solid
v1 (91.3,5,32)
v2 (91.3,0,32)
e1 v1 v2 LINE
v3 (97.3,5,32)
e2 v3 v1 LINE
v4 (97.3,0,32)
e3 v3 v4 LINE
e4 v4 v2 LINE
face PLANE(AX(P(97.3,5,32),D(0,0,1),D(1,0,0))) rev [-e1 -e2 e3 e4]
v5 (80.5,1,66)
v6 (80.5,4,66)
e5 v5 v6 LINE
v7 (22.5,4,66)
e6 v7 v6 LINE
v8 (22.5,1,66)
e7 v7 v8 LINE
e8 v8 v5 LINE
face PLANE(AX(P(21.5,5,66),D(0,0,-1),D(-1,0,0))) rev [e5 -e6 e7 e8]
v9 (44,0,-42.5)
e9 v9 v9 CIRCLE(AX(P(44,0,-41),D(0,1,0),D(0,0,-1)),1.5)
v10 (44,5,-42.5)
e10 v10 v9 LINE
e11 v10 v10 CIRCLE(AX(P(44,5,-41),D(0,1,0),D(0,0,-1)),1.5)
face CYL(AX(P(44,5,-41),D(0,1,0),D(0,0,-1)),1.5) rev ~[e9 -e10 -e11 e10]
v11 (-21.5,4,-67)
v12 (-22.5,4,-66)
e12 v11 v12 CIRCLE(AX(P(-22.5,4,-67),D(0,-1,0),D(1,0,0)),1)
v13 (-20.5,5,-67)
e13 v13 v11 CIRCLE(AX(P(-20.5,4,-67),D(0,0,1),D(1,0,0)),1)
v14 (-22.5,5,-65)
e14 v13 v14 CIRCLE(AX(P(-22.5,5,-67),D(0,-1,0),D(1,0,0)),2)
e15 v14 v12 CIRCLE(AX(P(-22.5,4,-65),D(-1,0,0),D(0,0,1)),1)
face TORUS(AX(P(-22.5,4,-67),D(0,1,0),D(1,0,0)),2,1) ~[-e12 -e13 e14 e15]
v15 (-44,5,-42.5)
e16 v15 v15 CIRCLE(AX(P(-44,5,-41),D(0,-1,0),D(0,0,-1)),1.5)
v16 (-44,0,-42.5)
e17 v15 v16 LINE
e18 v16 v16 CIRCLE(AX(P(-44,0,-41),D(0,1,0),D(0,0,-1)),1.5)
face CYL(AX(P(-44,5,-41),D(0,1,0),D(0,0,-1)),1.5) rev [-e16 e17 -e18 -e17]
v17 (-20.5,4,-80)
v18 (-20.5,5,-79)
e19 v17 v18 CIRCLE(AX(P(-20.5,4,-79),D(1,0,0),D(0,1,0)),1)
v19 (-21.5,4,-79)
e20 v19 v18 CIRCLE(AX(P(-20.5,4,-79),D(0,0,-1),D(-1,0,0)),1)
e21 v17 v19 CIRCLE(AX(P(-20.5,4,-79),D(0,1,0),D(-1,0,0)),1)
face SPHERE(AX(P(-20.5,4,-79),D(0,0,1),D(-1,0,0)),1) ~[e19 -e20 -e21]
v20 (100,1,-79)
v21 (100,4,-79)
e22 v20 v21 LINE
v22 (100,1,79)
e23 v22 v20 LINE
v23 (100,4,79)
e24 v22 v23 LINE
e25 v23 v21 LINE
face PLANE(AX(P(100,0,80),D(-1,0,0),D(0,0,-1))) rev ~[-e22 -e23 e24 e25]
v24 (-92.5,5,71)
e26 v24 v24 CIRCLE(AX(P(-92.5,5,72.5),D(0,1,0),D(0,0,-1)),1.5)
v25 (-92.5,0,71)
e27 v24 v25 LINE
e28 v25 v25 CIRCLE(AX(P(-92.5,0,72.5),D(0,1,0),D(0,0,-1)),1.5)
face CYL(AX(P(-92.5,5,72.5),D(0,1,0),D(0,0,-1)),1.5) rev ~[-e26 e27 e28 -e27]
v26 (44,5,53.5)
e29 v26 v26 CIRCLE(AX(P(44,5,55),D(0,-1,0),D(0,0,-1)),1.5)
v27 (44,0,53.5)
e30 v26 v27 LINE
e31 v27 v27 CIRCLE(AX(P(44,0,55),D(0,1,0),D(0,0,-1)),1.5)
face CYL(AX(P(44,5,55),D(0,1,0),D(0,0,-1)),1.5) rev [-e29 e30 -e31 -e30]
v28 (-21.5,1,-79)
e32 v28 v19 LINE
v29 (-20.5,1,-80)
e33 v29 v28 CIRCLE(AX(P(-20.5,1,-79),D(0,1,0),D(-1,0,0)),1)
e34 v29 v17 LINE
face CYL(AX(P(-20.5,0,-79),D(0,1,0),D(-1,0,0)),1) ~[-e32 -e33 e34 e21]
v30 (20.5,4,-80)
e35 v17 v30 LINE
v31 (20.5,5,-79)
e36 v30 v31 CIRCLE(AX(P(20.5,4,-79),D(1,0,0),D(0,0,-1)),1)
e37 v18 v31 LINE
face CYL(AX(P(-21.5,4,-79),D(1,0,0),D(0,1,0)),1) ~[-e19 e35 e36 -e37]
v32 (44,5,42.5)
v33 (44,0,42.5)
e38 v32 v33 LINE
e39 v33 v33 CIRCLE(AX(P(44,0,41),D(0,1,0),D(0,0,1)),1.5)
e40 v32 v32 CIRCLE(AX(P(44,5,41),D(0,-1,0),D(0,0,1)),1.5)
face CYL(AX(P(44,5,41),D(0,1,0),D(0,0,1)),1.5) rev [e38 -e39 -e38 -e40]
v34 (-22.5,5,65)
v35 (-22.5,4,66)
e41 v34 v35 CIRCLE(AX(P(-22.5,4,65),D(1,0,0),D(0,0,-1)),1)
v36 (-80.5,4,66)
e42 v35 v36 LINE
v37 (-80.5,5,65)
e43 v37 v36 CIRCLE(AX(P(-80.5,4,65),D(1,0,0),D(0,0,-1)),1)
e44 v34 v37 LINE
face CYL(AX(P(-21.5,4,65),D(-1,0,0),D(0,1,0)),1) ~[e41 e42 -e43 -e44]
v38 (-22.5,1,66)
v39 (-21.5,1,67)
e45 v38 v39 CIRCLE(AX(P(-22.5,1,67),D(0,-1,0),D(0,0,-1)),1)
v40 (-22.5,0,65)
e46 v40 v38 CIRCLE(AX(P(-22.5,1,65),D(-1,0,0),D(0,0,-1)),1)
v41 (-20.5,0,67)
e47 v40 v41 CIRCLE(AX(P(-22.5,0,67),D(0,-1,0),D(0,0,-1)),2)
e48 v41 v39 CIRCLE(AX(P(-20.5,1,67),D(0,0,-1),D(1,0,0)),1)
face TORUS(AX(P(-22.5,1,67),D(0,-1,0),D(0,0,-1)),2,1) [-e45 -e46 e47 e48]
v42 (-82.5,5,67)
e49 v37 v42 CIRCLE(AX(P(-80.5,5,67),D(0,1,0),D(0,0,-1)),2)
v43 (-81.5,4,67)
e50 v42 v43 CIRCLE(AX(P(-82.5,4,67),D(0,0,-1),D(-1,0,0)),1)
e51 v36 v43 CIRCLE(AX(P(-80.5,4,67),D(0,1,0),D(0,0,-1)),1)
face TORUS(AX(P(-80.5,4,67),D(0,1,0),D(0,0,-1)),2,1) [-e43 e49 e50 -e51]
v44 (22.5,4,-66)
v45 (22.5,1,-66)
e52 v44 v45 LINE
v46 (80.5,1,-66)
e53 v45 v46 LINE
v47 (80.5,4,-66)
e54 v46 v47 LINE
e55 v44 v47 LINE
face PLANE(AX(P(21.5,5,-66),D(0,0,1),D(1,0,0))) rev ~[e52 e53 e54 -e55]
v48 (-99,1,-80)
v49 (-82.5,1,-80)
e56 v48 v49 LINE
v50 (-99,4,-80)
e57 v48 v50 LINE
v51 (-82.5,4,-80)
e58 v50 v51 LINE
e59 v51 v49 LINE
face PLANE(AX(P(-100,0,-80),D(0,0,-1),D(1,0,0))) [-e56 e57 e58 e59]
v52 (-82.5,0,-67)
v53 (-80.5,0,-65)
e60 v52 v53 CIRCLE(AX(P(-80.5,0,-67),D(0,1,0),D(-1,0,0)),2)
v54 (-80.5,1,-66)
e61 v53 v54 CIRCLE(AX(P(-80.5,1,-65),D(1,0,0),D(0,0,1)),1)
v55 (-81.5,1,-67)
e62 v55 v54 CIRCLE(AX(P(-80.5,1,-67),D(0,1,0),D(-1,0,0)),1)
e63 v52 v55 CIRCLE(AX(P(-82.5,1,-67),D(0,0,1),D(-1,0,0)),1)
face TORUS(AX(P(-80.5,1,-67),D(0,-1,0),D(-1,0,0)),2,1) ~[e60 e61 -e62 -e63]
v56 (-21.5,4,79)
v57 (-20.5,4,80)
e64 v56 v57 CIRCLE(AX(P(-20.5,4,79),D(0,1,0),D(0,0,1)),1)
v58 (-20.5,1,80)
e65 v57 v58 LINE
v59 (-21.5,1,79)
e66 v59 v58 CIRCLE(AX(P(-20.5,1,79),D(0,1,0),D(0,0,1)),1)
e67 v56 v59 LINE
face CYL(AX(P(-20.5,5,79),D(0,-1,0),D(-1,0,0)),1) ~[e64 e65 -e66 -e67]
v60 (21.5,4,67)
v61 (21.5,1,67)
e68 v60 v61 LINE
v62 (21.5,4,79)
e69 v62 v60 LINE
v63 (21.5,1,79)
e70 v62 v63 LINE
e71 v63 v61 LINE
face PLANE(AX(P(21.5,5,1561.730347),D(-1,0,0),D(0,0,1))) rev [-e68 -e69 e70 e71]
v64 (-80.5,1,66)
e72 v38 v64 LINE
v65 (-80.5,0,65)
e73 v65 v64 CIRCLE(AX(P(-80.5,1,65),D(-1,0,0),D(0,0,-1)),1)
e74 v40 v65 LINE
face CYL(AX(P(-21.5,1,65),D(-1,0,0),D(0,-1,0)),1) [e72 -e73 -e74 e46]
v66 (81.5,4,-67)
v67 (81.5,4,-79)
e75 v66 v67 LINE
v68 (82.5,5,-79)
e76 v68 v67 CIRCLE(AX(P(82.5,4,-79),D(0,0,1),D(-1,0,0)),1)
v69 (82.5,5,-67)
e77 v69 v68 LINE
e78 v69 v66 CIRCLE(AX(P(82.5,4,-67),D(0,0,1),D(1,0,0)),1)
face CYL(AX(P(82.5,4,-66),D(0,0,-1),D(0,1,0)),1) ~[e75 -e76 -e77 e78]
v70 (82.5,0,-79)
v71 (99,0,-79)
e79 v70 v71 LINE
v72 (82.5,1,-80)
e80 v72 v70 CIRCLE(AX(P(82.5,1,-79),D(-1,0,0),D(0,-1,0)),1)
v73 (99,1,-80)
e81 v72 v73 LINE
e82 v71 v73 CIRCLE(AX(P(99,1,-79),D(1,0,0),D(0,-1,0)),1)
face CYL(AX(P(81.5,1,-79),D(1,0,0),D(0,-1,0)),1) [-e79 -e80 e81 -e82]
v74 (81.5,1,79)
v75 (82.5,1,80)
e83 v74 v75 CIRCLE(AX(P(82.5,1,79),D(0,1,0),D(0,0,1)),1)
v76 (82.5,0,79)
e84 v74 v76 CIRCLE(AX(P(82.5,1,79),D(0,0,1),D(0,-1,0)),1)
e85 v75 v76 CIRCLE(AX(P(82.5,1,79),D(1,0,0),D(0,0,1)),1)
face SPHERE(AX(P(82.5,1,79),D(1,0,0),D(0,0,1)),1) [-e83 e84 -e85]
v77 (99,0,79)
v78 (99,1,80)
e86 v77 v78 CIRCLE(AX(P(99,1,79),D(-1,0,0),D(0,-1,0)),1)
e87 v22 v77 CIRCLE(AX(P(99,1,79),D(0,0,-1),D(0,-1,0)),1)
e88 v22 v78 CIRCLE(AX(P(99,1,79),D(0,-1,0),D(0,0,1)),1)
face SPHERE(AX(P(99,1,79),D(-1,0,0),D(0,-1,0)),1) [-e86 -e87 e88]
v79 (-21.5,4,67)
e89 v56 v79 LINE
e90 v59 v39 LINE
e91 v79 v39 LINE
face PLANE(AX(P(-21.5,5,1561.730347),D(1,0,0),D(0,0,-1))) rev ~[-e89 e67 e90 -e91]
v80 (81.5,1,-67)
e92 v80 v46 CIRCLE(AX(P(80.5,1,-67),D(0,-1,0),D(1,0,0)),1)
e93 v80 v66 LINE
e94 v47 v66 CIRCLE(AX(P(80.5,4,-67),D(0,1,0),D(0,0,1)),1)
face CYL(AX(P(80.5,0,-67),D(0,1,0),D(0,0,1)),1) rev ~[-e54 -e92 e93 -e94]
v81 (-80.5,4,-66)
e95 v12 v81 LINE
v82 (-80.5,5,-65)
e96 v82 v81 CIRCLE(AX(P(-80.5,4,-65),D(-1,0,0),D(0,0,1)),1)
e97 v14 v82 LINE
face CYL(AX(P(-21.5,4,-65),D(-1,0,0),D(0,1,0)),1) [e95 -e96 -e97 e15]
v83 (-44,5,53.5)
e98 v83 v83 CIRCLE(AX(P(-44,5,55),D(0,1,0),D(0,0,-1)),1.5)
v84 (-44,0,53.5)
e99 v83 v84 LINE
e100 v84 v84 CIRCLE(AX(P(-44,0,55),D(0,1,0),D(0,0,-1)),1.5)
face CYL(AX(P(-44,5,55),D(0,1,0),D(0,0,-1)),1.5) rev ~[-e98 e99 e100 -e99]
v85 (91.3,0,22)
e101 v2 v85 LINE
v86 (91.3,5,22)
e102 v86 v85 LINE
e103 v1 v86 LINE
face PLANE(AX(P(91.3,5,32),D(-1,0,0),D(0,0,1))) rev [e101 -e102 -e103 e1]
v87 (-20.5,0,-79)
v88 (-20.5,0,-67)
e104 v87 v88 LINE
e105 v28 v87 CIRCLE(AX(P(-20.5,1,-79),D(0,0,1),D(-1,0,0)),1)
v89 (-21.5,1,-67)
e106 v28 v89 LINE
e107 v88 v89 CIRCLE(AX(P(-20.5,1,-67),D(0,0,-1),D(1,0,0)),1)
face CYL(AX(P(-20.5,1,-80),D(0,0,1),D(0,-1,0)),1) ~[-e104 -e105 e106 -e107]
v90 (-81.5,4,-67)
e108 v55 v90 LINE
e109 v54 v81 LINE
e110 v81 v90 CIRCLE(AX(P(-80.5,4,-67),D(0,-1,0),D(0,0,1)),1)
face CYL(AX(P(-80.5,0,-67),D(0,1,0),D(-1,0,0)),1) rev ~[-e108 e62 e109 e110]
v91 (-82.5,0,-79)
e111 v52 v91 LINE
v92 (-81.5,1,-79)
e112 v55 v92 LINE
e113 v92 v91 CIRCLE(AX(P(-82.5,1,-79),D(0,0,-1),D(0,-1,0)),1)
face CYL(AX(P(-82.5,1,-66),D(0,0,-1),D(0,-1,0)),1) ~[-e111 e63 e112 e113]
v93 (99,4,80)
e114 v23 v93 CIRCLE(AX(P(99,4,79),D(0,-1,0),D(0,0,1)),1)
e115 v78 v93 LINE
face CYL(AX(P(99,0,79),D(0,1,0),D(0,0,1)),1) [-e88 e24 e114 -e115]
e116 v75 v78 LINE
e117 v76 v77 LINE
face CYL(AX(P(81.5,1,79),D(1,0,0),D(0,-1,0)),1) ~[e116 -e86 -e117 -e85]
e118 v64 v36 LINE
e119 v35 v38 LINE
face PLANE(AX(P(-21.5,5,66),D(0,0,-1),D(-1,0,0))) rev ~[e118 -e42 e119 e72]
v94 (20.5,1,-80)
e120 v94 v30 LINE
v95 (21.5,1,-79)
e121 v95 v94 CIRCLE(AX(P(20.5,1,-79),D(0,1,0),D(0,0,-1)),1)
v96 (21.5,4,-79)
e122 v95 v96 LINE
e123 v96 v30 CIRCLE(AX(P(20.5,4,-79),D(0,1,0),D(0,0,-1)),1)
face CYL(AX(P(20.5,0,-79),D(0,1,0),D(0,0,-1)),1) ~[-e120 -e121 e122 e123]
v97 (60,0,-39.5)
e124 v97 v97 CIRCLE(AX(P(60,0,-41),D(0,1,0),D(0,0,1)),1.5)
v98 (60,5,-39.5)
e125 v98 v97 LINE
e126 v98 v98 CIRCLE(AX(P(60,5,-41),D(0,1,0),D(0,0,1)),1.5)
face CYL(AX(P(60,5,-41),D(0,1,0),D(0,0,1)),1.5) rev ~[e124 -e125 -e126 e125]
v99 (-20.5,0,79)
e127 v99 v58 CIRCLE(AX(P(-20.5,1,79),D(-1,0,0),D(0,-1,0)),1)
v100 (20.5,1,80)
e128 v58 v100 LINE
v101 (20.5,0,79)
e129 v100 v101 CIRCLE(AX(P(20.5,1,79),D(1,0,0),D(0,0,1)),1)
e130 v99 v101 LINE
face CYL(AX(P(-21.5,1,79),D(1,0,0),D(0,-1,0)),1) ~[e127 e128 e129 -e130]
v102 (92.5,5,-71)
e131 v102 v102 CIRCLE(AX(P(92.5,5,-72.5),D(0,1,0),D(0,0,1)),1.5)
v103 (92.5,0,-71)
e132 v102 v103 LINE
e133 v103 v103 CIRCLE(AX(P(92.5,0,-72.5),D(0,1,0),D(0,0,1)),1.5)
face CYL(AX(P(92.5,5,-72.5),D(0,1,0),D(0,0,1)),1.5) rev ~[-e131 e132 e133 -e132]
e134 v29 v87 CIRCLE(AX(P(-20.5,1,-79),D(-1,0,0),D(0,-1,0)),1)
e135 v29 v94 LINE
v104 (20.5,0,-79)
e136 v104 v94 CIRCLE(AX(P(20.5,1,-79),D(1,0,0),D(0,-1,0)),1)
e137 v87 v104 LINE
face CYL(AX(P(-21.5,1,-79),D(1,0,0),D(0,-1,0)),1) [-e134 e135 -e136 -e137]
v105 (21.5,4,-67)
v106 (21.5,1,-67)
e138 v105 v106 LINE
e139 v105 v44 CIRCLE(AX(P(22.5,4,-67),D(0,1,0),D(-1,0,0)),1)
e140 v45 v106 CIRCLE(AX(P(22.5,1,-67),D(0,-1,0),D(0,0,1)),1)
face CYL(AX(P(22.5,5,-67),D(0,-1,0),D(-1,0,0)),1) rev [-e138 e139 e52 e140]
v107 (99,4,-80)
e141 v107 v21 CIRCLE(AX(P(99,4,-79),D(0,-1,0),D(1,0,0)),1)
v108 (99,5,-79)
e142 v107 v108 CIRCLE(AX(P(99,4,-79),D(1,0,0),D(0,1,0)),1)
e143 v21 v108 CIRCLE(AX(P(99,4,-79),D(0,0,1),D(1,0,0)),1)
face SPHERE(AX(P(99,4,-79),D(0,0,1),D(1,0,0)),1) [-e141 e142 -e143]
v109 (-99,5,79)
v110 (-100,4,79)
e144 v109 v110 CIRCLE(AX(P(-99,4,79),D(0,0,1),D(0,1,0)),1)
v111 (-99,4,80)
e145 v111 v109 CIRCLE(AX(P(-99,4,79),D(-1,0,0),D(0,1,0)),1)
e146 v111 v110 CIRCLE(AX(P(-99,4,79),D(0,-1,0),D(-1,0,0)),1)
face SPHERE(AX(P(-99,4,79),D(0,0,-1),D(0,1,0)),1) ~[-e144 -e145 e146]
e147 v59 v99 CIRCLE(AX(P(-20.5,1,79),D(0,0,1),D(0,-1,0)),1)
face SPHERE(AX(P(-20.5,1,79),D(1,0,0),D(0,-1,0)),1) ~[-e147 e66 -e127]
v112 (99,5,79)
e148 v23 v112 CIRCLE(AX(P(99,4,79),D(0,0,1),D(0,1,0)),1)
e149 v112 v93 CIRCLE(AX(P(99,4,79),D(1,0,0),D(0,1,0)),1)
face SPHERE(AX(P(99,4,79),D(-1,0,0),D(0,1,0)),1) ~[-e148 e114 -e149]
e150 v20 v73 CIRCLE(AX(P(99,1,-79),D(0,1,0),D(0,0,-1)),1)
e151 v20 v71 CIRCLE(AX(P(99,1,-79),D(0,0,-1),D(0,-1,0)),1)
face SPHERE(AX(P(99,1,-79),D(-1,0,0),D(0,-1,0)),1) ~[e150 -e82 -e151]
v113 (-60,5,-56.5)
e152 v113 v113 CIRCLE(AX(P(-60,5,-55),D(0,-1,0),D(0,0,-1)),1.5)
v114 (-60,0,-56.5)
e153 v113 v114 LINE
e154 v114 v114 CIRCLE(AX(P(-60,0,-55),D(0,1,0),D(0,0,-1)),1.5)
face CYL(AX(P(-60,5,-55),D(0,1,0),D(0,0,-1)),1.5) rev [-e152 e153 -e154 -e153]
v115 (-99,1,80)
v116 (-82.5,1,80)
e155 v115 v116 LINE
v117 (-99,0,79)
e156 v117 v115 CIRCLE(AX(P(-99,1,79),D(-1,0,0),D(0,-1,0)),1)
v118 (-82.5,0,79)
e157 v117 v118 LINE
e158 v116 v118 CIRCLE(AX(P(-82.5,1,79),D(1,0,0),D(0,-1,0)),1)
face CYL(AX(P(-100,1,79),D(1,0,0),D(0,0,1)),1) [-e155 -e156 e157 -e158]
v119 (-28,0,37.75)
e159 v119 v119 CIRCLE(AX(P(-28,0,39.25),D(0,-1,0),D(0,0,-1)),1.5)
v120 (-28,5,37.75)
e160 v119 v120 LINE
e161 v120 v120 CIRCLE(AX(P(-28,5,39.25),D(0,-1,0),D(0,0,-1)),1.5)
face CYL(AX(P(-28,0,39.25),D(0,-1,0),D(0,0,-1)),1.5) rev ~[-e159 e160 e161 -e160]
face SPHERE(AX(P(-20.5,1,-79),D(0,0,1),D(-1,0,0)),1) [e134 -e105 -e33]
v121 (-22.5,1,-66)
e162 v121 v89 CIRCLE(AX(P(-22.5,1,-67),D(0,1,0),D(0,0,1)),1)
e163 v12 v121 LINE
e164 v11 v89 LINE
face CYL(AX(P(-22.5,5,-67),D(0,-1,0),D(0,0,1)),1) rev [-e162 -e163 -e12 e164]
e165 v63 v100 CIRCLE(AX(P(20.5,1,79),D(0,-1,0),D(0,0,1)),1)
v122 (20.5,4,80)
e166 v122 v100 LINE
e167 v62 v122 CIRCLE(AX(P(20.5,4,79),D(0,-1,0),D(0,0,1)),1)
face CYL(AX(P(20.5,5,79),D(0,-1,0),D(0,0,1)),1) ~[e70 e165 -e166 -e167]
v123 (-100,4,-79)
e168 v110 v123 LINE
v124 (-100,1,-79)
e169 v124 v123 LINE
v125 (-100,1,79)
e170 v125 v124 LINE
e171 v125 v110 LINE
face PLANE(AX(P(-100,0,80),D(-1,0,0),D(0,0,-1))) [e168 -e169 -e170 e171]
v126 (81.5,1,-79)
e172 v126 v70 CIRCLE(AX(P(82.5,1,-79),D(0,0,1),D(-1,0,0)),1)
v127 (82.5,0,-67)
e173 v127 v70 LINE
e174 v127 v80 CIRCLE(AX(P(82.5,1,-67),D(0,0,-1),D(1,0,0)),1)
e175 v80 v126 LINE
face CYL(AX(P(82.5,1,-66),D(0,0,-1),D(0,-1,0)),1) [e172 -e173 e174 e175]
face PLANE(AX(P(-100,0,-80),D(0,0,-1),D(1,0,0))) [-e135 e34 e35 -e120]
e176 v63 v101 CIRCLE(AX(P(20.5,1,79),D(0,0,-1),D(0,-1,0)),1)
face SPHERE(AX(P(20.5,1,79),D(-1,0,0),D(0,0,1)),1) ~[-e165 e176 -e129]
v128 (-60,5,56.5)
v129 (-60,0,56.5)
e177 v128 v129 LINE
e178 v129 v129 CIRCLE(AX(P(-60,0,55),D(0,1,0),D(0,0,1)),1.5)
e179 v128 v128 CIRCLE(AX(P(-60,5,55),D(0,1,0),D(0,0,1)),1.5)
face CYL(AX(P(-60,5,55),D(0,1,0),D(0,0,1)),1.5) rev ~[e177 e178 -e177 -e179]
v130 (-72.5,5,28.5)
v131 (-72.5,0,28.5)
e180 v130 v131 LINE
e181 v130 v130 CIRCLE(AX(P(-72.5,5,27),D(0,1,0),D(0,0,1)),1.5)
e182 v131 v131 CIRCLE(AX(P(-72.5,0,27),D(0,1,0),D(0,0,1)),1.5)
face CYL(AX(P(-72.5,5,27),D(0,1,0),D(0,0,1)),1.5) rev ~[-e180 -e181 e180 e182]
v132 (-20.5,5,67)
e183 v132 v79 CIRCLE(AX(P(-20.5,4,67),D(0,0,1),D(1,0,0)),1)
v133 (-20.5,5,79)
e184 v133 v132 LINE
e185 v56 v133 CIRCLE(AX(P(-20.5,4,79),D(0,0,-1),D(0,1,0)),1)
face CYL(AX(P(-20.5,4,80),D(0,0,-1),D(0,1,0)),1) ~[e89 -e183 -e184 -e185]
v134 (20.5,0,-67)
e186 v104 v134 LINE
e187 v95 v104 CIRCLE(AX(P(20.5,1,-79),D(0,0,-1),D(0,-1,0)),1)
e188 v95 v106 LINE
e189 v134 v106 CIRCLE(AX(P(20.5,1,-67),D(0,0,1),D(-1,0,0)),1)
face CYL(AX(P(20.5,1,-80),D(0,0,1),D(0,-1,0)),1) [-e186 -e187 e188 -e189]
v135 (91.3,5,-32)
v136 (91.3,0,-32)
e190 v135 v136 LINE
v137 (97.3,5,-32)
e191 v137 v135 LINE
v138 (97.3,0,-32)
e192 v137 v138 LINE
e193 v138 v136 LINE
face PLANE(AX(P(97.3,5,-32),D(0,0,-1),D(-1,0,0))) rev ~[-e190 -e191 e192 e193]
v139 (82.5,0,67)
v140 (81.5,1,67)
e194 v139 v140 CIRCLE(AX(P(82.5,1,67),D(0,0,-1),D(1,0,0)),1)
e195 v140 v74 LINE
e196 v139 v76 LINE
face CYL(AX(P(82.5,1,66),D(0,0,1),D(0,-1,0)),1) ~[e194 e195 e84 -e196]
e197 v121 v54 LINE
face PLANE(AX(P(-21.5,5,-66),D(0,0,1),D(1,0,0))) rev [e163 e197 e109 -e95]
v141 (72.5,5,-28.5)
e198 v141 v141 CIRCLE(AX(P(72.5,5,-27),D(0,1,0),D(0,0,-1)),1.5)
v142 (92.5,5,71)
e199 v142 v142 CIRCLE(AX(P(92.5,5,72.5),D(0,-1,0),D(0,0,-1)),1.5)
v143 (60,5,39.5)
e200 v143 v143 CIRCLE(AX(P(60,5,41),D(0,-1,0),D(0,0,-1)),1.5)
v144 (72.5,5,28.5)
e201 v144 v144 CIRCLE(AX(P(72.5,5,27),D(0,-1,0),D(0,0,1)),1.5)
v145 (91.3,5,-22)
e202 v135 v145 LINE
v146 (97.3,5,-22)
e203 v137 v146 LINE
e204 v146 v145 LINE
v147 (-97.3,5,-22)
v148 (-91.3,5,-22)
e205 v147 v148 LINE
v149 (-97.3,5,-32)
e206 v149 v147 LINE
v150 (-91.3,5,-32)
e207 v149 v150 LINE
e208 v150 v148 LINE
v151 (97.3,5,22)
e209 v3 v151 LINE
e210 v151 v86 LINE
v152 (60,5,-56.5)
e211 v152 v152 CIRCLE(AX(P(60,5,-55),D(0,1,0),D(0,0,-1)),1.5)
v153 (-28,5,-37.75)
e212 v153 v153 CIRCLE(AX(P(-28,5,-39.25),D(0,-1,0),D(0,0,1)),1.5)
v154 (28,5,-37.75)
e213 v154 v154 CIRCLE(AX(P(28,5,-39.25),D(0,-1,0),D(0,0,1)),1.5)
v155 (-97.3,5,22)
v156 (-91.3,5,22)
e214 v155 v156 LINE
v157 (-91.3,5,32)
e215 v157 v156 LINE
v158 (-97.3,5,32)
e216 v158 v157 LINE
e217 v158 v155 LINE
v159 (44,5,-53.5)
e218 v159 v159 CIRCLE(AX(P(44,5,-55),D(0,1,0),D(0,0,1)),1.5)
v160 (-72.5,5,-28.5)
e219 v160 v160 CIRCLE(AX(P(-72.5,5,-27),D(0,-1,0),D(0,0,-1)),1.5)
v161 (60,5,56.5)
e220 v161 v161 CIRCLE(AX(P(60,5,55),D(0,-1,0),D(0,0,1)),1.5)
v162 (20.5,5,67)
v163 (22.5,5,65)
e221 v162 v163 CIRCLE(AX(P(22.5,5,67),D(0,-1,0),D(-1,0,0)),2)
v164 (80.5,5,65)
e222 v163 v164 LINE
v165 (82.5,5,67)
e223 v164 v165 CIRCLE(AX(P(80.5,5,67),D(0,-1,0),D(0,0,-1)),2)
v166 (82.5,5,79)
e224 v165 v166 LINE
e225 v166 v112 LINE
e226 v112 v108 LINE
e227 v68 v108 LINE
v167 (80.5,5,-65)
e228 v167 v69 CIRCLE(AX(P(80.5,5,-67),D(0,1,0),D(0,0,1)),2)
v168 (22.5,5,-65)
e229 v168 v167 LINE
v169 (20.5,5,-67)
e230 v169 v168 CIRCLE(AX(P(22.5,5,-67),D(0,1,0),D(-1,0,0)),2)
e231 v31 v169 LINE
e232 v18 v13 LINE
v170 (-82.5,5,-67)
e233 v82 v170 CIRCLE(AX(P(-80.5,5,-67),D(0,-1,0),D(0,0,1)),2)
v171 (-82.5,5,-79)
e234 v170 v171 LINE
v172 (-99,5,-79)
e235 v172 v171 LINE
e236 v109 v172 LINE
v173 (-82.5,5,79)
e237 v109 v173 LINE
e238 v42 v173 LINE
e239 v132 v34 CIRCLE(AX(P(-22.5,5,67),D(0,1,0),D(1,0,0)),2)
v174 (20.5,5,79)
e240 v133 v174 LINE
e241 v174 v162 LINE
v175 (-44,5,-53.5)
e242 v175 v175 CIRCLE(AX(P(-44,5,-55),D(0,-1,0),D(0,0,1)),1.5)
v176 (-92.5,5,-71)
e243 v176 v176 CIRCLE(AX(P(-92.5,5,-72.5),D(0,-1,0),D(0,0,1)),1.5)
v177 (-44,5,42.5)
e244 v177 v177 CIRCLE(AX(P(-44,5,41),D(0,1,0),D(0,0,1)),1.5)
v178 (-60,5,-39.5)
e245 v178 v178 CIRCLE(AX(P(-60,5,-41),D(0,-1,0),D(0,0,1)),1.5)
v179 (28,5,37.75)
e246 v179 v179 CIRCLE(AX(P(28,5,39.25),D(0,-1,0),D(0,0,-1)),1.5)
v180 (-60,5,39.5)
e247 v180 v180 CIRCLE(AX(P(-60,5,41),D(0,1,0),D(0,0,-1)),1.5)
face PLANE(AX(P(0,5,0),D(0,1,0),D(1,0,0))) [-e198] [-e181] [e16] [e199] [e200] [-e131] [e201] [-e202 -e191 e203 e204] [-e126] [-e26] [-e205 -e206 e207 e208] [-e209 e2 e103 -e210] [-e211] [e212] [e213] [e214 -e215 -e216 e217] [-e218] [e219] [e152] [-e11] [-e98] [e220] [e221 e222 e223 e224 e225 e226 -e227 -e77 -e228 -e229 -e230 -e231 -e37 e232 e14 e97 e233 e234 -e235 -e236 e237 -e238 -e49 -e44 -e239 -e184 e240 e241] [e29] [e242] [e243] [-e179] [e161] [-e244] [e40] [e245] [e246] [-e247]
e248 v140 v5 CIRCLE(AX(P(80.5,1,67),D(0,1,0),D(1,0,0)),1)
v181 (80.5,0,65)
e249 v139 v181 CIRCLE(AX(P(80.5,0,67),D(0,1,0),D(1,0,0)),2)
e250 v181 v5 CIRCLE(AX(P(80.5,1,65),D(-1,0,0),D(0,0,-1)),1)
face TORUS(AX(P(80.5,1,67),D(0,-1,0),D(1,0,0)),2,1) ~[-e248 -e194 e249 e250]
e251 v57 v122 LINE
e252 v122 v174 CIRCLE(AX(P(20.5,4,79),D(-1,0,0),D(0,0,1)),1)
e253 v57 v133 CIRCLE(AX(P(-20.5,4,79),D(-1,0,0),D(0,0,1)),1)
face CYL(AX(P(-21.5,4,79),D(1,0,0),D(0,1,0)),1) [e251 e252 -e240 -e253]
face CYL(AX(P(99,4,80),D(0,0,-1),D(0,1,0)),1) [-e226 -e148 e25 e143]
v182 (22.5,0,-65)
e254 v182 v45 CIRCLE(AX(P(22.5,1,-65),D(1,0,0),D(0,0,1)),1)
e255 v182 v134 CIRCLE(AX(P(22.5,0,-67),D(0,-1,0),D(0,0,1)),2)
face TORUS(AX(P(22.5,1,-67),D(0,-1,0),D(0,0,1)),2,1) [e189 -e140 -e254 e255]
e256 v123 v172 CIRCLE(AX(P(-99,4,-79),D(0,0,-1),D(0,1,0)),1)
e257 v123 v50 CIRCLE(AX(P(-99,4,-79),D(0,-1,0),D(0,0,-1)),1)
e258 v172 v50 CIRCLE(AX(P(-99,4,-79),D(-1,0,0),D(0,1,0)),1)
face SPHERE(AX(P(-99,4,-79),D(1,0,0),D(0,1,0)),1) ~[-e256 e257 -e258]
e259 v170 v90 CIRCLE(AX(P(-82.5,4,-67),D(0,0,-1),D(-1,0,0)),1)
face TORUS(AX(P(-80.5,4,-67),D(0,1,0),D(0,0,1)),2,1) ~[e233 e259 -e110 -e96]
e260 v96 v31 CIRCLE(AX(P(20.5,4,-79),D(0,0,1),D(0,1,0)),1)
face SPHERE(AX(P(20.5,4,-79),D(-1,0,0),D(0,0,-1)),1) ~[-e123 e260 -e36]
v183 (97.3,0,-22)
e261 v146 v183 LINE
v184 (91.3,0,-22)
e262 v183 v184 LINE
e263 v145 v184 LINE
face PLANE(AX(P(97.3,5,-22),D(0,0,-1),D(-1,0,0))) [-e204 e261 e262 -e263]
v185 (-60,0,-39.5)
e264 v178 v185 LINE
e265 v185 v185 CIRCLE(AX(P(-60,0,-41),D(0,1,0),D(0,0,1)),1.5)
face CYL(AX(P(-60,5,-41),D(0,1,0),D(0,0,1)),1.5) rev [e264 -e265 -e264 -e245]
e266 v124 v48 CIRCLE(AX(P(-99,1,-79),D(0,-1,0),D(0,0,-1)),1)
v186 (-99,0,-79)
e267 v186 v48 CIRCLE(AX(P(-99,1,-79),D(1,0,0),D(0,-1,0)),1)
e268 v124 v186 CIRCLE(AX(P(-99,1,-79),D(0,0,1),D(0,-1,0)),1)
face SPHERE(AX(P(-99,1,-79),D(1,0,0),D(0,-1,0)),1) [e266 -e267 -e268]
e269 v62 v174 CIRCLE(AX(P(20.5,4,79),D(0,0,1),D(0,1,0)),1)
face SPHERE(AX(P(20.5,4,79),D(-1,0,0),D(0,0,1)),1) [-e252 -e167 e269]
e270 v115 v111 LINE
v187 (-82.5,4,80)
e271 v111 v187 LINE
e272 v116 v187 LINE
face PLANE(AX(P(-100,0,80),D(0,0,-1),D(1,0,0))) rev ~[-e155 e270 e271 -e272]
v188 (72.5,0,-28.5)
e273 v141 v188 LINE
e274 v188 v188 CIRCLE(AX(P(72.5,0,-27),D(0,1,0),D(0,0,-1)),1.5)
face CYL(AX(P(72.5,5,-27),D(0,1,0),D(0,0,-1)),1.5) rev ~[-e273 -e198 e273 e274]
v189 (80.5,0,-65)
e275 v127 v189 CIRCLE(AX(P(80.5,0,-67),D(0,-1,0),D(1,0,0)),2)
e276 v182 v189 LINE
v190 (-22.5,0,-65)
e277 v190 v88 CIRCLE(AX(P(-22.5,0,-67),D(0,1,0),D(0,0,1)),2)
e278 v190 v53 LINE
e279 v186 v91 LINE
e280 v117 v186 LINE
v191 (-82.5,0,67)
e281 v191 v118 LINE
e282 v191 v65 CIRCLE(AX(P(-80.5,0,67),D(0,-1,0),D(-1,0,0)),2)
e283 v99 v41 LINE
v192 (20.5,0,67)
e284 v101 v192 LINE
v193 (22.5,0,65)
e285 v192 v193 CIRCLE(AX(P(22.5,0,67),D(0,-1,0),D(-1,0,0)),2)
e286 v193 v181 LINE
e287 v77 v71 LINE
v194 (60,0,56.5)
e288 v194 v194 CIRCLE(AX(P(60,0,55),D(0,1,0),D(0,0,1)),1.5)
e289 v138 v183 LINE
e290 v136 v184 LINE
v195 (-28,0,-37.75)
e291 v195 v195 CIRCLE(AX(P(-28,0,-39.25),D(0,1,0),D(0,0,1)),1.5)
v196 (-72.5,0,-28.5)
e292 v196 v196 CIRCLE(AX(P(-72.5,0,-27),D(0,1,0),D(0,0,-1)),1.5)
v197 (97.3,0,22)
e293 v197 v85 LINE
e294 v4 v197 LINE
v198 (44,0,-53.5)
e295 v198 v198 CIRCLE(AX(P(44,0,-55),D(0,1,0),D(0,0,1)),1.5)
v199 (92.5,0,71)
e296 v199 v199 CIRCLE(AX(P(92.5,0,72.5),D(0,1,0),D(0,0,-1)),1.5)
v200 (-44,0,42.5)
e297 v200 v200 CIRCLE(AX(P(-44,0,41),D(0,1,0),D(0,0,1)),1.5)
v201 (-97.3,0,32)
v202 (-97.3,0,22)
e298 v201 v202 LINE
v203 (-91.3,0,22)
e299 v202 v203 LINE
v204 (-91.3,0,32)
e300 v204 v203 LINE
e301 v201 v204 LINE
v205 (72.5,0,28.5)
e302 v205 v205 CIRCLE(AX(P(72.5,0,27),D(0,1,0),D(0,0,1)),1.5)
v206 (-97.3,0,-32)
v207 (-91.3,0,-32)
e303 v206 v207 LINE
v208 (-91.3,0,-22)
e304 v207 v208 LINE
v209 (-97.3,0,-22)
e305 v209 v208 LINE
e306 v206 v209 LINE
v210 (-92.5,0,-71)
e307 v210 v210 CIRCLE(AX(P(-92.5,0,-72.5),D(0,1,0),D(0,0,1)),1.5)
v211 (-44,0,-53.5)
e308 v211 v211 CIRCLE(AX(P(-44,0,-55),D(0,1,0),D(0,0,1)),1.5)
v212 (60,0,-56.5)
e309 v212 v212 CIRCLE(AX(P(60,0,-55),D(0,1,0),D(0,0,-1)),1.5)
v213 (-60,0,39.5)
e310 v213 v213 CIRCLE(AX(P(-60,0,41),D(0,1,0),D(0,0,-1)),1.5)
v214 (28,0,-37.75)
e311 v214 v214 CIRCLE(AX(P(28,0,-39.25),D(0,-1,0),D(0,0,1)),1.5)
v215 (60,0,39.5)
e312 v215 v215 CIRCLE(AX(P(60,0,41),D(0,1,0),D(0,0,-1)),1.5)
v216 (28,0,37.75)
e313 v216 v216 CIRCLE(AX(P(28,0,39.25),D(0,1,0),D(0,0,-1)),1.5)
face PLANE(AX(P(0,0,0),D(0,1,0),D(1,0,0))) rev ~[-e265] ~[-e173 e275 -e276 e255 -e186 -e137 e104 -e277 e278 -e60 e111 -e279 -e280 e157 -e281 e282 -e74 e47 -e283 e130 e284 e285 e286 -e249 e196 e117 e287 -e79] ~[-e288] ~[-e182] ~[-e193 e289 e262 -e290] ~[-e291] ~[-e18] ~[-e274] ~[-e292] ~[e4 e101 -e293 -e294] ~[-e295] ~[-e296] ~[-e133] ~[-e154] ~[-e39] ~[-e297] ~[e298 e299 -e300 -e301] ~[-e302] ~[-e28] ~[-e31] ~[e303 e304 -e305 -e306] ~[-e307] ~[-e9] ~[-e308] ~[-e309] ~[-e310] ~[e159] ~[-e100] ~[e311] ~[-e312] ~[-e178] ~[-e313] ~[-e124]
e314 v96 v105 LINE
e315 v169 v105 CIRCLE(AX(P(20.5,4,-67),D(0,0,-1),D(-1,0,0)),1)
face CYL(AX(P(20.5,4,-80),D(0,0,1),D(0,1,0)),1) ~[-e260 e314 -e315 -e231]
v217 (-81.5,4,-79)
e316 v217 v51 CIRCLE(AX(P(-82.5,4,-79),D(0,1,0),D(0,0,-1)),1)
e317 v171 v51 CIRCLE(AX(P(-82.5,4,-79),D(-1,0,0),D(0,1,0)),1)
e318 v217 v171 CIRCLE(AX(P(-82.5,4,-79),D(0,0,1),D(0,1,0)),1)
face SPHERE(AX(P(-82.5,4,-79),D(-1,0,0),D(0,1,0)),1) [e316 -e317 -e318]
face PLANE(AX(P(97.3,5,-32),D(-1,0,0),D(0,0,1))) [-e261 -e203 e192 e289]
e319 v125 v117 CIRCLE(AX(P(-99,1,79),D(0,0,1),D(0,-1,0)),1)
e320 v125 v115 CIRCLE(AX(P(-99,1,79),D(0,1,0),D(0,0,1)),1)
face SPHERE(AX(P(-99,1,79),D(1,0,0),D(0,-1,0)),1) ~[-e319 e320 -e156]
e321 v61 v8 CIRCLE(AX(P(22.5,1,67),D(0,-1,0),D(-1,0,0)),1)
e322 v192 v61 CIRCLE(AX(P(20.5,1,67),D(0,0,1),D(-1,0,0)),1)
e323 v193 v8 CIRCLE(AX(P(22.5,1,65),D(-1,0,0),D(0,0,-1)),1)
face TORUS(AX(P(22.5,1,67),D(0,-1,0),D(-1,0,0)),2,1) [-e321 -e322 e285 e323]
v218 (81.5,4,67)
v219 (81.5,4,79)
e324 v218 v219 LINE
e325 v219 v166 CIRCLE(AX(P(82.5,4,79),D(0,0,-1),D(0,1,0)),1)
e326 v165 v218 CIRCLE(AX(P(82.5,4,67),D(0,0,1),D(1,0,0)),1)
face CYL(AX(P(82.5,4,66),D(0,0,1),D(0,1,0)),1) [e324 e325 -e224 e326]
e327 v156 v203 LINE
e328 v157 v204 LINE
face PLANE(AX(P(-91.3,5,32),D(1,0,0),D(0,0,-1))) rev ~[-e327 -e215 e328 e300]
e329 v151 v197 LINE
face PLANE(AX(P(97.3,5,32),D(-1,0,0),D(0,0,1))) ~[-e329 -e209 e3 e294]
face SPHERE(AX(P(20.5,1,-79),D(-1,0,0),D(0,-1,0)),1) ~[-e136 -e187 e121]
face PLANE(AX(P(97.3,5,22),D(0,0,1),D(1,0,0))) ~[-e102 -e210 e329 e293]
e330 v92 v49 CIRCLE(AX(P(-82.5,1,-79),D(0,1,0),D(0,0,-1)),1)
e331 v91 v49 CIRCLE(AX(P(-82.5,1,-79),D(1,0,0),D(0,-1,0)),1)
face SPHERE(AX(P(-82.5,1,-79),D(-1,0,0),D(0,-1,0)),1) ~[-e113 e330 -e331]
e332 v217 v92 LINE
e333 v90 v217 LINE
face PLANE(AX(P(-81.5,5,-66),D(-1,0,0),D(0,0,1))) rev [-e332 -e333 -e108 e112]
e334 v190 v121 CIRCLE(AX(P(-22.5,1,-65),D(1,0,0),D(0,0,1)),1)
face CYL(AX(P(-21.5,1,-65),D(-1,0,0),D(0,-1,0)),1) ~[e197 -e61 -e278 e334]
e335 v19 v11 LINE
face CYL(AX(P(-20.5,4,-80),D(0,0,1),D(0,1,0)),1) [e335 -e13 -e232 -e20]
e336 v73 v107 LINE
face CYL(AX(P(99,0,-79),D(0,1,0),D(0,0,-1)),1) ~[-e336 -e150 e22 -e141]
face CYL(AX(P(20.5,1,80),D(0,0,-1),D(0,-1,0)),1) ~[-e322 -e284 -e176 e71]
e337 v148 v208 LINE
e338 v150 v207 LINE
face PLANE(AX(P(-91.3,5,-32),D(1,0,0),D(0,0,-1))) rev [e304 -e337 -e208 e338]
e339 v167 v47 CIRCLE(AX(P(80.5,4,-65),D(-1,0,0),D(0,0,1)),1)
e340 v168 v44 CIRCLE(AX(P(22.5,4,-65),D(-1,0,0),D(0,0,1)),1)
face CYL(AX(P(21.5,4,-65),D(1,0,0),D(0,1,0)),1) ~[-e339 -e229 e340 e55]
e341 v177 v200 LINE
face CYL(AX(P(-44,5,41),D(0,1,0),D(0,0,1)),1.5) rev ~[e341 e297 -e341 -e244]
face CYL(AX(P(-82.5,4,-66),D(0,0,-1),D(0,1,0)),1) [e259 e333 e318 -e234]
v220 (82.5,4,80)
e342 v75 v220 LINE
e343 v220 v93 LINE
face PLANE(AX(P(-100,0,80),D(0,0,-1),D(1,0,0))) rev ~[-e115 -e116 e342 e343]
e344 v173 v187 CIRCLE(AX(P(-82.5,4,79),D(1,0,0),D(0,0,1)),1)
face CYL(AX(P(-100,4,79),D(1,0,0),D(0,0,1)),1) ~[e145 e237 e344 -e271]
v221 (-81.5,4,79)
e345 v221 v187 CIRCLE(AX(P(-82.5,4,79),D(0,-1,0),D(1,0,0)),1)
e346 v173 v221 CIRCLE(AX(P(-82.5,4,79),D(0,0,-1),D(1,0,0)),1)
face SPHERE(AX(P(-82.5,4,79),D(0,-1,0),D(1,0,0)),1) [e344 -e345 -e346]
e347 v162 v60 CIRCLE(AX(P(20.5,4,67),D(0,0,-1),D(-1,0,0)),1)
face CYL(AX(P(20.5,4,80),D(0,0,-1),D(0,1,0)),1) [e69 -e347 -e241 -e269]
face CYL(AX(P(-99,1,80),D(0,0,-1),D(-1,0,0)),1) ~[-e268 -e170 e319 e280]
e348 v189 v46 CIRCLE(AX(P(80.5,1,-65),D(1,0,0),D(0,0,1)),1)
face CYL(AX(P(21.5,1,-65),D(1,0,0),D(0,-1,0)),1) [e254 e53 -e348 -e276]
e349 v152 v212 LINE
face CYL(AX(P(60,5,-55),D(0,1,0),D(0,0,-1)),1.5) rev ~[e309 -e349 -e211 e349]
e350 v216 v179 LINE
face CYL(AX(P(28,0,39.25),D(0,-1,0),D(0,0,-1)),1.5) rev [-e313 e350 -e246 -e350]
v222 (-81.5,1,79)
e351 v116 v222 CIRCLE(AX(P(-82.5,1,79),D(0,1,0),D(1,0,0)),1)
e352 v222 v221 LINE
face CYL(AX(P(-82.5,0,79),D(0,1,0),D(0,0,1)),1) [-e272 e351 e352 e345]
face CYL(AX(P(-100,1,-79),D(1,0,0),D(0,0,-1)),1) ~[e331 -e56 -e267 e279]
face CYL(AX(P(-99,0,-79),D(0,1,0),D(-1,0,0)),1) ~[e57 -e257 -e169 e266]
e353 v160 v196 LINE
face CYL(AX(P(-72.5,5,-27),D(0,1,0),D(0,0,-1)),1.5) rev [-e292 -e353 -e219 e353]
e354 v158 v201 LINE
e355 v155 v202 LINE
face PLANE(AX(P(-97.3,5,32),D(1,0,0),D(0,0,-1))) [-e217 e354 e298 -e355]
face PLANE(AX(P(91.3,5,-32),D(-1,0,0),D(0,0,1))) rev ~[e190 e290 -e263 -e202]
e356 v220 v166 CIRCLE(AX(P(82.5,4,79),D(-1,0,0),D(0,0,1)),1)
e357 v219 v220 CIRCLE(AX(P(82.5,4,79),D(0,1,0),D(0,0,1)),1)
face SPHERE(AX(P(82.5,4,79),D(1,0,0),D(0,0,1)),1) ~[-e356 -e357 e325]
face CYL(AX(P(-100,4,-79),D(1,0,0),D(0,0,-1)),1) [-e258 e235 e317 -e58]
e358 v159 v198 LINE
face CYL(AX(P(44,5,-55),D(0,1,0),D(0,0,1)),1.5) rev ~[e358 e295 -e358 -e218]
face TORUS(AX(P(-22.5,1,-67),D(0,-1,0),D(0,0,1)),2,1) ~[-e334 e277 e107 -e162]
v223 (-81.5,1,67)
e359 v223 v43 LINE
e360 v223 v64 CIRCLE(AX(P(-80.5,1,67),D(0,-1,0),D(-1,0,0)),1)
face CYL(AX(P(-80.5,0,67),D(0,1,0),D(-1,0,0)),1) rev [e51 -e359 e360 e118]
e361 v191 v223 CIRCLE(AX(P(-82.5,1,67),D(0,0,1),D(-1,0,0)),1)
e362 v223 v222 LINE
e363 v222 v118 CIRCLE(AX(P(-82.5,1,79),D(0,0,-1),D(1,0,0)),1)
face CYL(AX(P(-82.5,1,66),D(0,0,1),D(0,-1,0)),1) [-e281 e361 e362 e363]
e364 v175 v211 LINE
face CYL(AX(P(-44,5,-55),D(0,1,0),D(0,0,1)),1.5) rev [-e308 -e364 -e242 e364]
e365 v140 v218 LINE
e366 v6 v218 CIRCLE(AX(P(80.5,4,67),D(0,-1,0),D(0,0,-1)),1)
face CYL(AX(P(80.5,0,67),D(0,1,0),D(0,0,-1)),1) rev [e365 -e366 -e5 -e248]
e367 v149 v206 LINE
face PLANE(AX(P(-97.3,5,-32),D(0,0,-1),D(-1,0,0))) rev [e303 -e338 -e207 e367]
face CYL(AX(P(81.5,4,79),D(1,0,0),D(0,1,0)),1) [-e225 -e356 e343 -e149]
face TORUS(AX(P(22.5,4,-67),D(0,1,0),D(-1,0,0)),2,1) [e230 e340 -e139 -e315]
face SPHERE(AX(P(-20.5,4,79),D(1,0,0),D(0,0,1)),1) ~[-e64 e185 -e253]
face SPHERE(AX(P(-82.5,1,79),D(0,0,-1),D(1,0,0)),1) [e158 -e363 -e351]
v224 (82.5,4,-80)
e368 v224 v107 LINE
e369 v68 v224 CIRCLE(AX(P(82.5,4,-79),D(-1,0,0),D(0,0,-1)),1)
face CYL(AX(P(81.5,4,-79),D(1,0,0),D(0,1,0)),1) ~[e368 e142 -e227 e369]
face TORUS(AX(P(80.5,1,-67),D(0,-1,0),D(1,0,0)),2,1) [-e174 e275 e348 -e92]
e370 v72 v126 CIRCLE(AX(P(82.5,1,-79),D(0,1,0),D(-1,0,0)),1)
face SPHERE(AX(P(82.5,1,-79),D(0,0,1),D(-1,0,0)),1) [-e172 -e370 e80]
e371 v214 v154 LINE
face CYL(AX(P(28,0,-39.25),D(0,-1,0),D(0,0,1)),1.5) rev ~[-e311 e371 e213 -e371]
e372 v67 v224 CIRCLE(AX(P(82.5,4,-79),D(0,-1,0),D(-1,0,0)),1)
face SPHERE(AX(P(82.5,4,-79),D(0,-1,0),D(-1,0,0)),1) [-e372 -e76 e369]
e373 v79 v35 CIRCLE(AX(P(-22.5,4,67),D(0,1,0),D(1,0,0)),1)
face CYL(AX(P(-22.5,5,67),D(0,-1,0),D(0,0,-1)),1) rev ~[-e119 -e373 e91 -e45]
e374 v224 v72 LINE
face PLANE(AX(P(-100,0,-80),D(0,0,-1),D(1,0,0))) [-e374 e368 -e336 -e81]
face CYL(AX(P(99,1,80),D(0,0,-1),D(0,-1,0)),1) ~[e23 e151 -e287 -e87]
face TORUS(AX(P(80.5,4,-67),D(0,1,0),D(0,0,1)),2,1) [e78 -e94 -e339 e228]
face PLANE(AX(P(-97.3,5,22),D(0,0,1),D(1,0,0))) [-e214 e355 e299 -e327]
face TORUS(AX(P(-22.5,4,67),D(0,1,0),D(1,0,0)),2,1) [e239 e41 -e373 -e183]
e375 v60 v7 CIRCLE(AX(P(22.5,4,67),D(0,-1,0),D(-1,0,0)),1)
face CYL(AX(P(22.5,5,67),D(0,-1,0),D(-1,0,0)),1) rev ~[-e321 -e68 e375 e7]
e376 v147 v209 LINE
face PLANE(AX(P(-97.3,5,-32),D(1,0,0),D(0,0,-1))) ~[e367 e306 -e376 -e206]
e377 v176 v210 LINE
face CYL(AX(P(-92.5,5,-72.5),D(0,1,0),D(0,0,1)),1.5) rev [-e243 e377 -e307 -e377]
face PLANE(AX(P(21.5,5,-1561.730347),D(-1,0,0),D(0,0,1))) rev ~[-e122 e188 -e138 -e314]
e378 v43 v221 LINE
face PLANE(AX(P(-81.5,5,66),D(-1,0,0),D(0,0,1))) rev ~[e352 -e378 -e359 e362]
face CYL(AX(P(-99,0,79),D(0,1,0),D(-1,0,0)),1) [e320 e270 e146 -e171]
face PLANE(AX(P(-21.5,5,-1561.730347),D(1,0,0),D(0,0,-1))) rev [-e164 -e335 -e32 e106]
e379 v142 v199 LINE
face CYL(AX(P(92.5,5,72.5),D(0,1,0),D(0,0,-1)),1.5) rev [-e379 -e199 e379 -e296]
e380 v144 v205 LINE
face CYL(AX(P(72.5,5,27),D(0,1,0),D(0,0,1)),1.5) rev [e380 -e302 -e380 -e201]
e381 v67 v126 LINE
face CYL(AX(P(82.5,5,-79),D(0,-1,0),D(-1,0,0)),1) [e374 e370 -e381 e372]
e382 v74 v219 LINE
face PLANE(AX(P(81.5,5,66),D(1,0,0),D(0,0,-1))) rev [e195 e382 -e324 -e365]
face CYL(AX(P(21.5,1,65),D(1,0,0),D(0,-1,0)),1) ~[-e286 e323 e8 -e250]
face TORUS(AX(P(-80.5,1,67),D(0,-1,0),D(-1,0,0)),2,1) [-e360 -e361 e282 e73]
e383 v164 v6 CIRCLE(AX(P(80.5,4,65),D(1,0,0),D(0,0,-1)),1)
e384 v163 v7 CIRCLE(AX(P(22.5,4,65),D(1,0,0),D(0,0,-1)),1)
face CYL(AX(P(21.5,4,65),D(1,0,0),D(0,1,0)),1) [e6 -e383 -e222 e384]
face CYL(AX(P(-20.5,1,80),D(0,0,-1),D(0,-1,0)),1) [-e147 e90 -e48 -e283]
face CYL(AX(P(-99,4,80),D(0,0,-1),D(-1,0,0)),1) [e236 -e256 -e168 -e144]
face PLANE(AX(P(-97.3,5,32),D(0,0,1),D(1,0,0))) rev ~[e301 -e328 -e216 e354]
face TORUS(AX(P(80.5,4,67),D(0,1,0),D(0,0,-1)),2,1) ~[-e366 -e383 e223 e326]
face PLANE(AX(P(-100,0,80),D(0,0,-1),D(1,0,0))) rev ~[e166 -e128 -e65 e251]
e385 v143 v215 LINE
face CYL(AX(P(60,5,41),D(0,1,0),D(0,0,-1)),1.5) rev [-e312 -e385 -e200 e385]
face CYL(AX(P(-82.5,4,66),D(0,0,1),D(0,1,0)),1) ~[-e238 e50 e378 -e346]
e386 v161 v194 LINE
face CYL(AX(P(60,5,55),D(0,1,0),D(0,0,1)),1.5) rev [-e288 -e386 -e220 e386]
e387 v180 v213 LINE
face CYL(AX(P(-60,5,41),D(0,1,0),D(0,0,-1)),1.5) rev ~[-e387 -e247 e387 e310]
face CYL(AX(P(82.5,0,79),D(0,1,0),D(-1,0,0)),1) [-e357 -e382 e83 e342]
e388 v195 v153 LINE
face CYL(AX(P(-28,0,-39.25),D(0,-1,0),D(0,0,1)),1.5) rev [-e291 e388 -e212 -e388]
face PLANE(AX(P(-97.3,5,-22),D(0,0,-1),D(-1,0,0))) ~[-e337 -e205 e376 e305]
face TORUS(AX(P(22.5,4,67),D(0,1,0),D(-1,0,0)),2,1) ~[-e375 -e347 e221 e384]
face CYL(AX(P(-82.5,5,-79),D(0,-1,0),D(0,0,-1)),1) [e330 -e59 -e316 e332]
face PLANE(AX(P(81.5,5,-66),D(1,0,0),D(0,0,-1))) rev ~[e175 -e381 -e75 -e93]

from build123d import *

# Parameters (mm, degrees)
SKETCH2_W                = 200
SKETCH2_H                = 160
BOSS_EXTRUDE1_DEPTH      = 5
SKETCH3_R                = 1.5
CUT_EXTRUDE1_DEPTH       = 129.16005618
MIRROR2_COPY_1_SKETCH_R  = 1.5
MIRROR2_COPY_1_DEPTH     = 129.16005618
SKETCH4_R                = 1.5
CUT_EXTRUDE2_DEPTH       = 129.16005618
MIRROR4_COPY_1_SKETCH_R  = 1.5
MIRROR4_COPY_1_DEPTH     = 129.16005618
CUT_EXTRUDE4_DEPTH       = 129.16005618
MIRROR9_COPY_1_DEPTH     = 129.16005618
SKETCH9_R                = 1.5
CUT_EXTRUDE5_DEPTH       = 129.16005618
MIRROR11_COPY_1_SKETCH_R = 1.5
MIRROR11_COPY_1_DEPTH    = 129.16005618
SKETCH10_R               = 1.5
SKETCH10_W               = 6
SKETCH10_H               = 10
CUT_EXTRUDE6_DEPTH       = 129.16005618
MIRROR13_COPY_1_SKETCH_R = 1.5
MIRROR13_COPY_1_SKETCH_W = 6
MIRROR13_COPY_1_SKETCH_H = 10
MIRROR13_COPY_1_DEPTH    = 129.16005618
FILLET3_R                = 1


with BuildPart() as part:
    # Sketch2 → Boss-Extrude1 (new body)
    with BuildSketch(Plane(origin=(0, 0, 0), x_dir=(1, 0, 0), z_dir=(0, 1, 0))):
        Rectangle(SKETCH2_W, SKETCH2_H)
    extrude(amount=BOSS_EXTRUDE1_DEPTH)

    # Sketch3 → Cut-Extrude1 (cut, through all)
    with BuildSketch(Plane(origin=(0, 5, 0), x_dir=(1, 0, 0), z_dir=(0, 1, 0))):
        with Locations(Location((92.5, 72.5, 0), (0, 0, 270))):
            Circle(SKETCH3_R)
    cut_extrude1 = extrude(amount=-CUT_EXTRUDE1_DEPTH, mode=Mode.SUBTRACT)

    # Mirror1: Cut-Extrude1 across plane
    add(cut_extrude1.mirror(Plane(origin=(0, 0, 0), x_dir=(0, 0, 1), z_dir=(1, 0, 0))), mode=Mode.SUBTRACT)

    # Mirror2: Cut-Extrude1 across plane
    add(cut_extrude1.mirror(Plane.XY), mode=Mode.SUBTRACT)

    # Mirror2 copy 1 sketch → Mirror2 copy 1 (cut, through all)
    with BuildSketch(Plane(origin=(0, 5, 0), x_dir=(-1, 0, 0), z_dir=(0, 1, 0))):
        with Locations(Location((92.5, 72.5, 0), (0, 0, 270))):
            Circle(MIRROR2_COPY_1_SKETCH_R)
    extrude(amount=-MIRROR2_COPY_1_DEPTH, mode=Mode.SUBTRACT)

    # Sketch4 → Cut-Extrude2 (cut, through all)
    with BuildSketch(Plane(origin=(0, 5, 0), x_dir=(1, 0, 0), z_dir=(0, 1, 0))):
        with Locations(Location((-60, -55, 0), (0, 0, 270))):
            Circle(SKETCH4_R)
        with Locations(Location((-60, -41, 0), (0, 0, 90))):
            Circle(SKETCH4_R)
        with Locations(Location((-44, -55, 0), (0, 0, 90))):
            Circle(SKETCH4_R)
        with Locations(Location((-44, -41, 0), (0, 0, 270))):
            Circle(SKETCH4_R)
    cut_extrude2 = extrude(amount=-CUT_EXTRUDE2_DEPTH, mode=Mode.SUBTRACT)

    # Mirror3: Cut-Extrude2 across plane
    add(cut_extrude2.mirror(Plane(origin=(0, 0, 0), x_dir=(0, 0, 1), z_dir=(1, 0, 0))), mode=Mode.SUBTRACT)

    # Mirror4: Cut-Extrude2 across plane
    add(cut_extrude2.mirror(Plane.XY), mode=Mode.SUBTRACT)

    # Mirror4 copy 1 sketch → Mirror4 copy 1 (cut, through all)
    with BuildSketch(Plane(origin=(0, 5, 0), x_dir=(-1, 0, 0), z_dir=(0, 1, 0))):
        with Locations(Location((-60, -55, 0), (0, 0, 270))):
            Circle(MIRROR4_COPY_1_SKETCH_R)
        with Locations(Location((-60, -41, 0), (0, 0, 90))):
            Circle(MIRROR4_COPY_1_SKETCH_R)
        with Locations(Location((-44, -55, 0), (0, 0, 90))):
            Circle(MIRROR4_COPY_1_SKETCH_R)
        with Locations(Location((-44, -41, 0), (0, 0, 270))):
            Circle(MIRROR4_COPY_1_SKETCH_R)
    extrude(amount=-MIRROR4_COPY_1_DEPTH, mode=Mode.SUBTRACT)

    # Sketch6 → Cut-Extrude4 (cut, symmetric)
    with BuildSketch(Plane(origin=(0, 5, 0), x_dir=(1, 0, 0), z_dir=(0, 1, 0))):
        Polygon((-21.5, -573.910115621), (-21.5, -80), (-21.5, -66), (-81.5, -66), (-81.5, -80), (-81.5, -573.910115621), (-81.5, -1561.730346862), (-21.5, -1561.730346862), align=None)
    cut_extrude4 = extrude(amount=CUT_EXTRUDE4_DEPTH, both=True, mode=Mode.SUBTRACT)

    # Mirror8: Cut-Extrude4 across plane
    add(cut_extrude4.mirror(Plane.XY), mode=Mode.SUBTRACT)

    # Mirror9: Cut-Extrude4 across plane
    add(cut_extrude4.mirror(Plane(origin=(0, 0, 0), x_dir=(0, 0, 1), z_dir=(1, 0, 0))), mode=Mode.SUBTRACT)

    # Mirror9 copy 1 sketch → Mirror9 copy 1 (cut, symmetric)
    with BuildSketch(Plane(origin=(0, 5, 0), x_dir=(-1, 0, 0), z_dir=(0, 1, 0))):
        Polygon((-21.5, -573.910115621), (-21.5, -80), (-21.5, -66), (-81.5, -66), (-81.5, -80), (-81.5, -573.910115621), (-81.5, -1561.730346862), (-21.5, -1561.730346862), align=None)
    extrude(amount=MIRROR9_COPY_1_DEPTH, both=True, mode=Mode.SUBTRACT)

    # Sketch9 → Cut-Extrude5 (cut, through all)
    with BuildSketch(Plane(origin=(0, 0, 0), x_dir=(-1, 0, 0), z_dir=(0, -1, 0))):
        with Locations(Location((28, -39.25, 0), (0, 0, 90))):
            Circle(SKETCH9_R)
    cut_extrude5 = extrude(amount=-CUT_EXTRUDE5_DEPTH, mode=Mode.SUBTRACT)

    # Mirror10: Cut-Extrude5 across plane
    add(cut_extrude5.mirror(Plane.XY), mode=Mode.SUBTRACT)

    # Mirror11: Cut-Extrude5 across plane
    add(cut_extrude5.mirror(Plane(origin=(0, 0, 0), x_dir=(0, 0, 1), z_dir=(1, 0, 0))), mode=Mode.SUBTRACT)

    # Mirror11 copy 1 sketch → Mirror11 copy 1 (cut, through all)
    with BuildSketch(Plane.XZ):
        with Locations(Location((28, -39.25, 0), (0, 0, 90))):
            Circle(MIRROR11_COPY_1_SKETCH_R)
    extrude(amount=-MIRROR11_COPY_1_DEPTH, mode=Mode.SUBTRACT)

    # Sketch10 → Cut-Extrude6 (cut, through all)
    with BuildSketch(Plane(origin=(0, 5, 0), x_dir=(1, 0, 0), z_dir=(0, 1, 0))):
        with Locations(Location((-72.5, -27, 0), (0, 0, 270))):
            Circle(SKETCH10_R)
        with Locations((-94.3, -27)):
            Rectangle(SKETCH10_W, SKETCH10_H)
    cut_extrude6 = extrude(amount=-CUT_EXTRUDE6_DEPTH, mode=Mode.SUBTRACT)

    # Mirror12: Cut-Extrude6 across plane
    add(cut_extrude6.mirror(Plane.XY), mode=Mode.SUBTRACT)

    # Mirror13: Cut-Extrude6 across plane
    add(cut_extrude6.mirror(Plane(origin=(0, 0, 0), x_dir=(0, 0, 1), z_dir=(1, 0, 0))), mode=Mode.SUBTRACT)

    # Mirror13 copy 1 sketch → Mirror13 copy 1 (cut, through all)
    with BuildSketch(Plane(origin=(0, 5, 0), x_dir=(-1, 0, 0), z_dir=(0, 1, 0))):
        with Locations(Location((-72.5, -27, 0), (0, 0, 270))):
            Circle(MIRROR13_COPY_1_SKETCH_R)
        with Locations((-94.3, -27)):
            Rectangle(MIRROR13_COPY_1_SKETCH_W, MIRROR13_COPY_1_SKETCH_H)
    extrude(amount=-MIRROR13_COPY_1_DEPTH, mode=Mode.SUBTRACT)

    # Fillet3
    fillet3_edges = [part.edges().sort_by_distance(p)[0] for p in [
        (0, 0, 80),
        (-81.5, 0, 73),
        (-51.5, 0, 66),
        (-21.5, 0, 73),
        (0, 5, 80),
        (-21.5, 2.5, 66),
        (-81.5, 2.5, 66),
        (-81.5, 2.5, 80),
        (-21.5, 2.5, 80),
        (-21.5, 5, 73),
        (-51.5, 5, 66),
        (-81.5, 5, 73),
        (-90.75, 0, -80),
        (-81.5, 0, -73),
        (-51.5, 0, -66),
        (-21.5, 0, -73),
        (-90.75, 5, -80),
        (-21.5, 5, -73),
        (-21.5, 2.5, -80),
        (-51.5, 5, -66),
        (-21.5, 2.5, -66),
        (-81.5, 5, -73),
        (-81.5, 2.5, -66),
        (-81.5, 2.5, -80),
        (-100, 5, 0),
        (0, 0, -80),
        (81.5, 0, -73),
        (51.5, 0, -66),
        (21.5, 0, -73),
        (0, 5, -80),
        (21.5, 2.5, -66),
        (81.5, 2.5, -66),
        (81.5, 2.5, -80),
        (21.5, 2.5, -80),
        (21.5, 5, -73),
        (51.5, 5, -66),
        (81.5, 5, -73),
        (90.75, 5, 80),
        (90.75, 0, 80),
        (81.5, 2.5, 80),
        (21.5, 2.5, 80),
        (51.5, 0, 66),
        (51.5, 5, 66),
        (21.5, 2.5, 66),
        (21.5, 5, 73),
        (21.5, 0, 73),
        (81.5, 5, 73),
        (81.5, 2.5, 66),
        (81.5, 0, 73),
        (-90.75, 5, 80),
        (100, 5, 0),
        (-90.75, 0, 80),
        (-100, 0, 0),
        (90.75, 0, -80),
        (100, 0, 0),
        (100, 2.5, 80),
        (-100, 2.5, 80),
        (-100, 2.5, -80),
        (100, 2.5, -80),
        (90.75, 5, -80),
    ]]
    fillet(fillet3_edges, radius=FILLET3_R)


solid = part.part
